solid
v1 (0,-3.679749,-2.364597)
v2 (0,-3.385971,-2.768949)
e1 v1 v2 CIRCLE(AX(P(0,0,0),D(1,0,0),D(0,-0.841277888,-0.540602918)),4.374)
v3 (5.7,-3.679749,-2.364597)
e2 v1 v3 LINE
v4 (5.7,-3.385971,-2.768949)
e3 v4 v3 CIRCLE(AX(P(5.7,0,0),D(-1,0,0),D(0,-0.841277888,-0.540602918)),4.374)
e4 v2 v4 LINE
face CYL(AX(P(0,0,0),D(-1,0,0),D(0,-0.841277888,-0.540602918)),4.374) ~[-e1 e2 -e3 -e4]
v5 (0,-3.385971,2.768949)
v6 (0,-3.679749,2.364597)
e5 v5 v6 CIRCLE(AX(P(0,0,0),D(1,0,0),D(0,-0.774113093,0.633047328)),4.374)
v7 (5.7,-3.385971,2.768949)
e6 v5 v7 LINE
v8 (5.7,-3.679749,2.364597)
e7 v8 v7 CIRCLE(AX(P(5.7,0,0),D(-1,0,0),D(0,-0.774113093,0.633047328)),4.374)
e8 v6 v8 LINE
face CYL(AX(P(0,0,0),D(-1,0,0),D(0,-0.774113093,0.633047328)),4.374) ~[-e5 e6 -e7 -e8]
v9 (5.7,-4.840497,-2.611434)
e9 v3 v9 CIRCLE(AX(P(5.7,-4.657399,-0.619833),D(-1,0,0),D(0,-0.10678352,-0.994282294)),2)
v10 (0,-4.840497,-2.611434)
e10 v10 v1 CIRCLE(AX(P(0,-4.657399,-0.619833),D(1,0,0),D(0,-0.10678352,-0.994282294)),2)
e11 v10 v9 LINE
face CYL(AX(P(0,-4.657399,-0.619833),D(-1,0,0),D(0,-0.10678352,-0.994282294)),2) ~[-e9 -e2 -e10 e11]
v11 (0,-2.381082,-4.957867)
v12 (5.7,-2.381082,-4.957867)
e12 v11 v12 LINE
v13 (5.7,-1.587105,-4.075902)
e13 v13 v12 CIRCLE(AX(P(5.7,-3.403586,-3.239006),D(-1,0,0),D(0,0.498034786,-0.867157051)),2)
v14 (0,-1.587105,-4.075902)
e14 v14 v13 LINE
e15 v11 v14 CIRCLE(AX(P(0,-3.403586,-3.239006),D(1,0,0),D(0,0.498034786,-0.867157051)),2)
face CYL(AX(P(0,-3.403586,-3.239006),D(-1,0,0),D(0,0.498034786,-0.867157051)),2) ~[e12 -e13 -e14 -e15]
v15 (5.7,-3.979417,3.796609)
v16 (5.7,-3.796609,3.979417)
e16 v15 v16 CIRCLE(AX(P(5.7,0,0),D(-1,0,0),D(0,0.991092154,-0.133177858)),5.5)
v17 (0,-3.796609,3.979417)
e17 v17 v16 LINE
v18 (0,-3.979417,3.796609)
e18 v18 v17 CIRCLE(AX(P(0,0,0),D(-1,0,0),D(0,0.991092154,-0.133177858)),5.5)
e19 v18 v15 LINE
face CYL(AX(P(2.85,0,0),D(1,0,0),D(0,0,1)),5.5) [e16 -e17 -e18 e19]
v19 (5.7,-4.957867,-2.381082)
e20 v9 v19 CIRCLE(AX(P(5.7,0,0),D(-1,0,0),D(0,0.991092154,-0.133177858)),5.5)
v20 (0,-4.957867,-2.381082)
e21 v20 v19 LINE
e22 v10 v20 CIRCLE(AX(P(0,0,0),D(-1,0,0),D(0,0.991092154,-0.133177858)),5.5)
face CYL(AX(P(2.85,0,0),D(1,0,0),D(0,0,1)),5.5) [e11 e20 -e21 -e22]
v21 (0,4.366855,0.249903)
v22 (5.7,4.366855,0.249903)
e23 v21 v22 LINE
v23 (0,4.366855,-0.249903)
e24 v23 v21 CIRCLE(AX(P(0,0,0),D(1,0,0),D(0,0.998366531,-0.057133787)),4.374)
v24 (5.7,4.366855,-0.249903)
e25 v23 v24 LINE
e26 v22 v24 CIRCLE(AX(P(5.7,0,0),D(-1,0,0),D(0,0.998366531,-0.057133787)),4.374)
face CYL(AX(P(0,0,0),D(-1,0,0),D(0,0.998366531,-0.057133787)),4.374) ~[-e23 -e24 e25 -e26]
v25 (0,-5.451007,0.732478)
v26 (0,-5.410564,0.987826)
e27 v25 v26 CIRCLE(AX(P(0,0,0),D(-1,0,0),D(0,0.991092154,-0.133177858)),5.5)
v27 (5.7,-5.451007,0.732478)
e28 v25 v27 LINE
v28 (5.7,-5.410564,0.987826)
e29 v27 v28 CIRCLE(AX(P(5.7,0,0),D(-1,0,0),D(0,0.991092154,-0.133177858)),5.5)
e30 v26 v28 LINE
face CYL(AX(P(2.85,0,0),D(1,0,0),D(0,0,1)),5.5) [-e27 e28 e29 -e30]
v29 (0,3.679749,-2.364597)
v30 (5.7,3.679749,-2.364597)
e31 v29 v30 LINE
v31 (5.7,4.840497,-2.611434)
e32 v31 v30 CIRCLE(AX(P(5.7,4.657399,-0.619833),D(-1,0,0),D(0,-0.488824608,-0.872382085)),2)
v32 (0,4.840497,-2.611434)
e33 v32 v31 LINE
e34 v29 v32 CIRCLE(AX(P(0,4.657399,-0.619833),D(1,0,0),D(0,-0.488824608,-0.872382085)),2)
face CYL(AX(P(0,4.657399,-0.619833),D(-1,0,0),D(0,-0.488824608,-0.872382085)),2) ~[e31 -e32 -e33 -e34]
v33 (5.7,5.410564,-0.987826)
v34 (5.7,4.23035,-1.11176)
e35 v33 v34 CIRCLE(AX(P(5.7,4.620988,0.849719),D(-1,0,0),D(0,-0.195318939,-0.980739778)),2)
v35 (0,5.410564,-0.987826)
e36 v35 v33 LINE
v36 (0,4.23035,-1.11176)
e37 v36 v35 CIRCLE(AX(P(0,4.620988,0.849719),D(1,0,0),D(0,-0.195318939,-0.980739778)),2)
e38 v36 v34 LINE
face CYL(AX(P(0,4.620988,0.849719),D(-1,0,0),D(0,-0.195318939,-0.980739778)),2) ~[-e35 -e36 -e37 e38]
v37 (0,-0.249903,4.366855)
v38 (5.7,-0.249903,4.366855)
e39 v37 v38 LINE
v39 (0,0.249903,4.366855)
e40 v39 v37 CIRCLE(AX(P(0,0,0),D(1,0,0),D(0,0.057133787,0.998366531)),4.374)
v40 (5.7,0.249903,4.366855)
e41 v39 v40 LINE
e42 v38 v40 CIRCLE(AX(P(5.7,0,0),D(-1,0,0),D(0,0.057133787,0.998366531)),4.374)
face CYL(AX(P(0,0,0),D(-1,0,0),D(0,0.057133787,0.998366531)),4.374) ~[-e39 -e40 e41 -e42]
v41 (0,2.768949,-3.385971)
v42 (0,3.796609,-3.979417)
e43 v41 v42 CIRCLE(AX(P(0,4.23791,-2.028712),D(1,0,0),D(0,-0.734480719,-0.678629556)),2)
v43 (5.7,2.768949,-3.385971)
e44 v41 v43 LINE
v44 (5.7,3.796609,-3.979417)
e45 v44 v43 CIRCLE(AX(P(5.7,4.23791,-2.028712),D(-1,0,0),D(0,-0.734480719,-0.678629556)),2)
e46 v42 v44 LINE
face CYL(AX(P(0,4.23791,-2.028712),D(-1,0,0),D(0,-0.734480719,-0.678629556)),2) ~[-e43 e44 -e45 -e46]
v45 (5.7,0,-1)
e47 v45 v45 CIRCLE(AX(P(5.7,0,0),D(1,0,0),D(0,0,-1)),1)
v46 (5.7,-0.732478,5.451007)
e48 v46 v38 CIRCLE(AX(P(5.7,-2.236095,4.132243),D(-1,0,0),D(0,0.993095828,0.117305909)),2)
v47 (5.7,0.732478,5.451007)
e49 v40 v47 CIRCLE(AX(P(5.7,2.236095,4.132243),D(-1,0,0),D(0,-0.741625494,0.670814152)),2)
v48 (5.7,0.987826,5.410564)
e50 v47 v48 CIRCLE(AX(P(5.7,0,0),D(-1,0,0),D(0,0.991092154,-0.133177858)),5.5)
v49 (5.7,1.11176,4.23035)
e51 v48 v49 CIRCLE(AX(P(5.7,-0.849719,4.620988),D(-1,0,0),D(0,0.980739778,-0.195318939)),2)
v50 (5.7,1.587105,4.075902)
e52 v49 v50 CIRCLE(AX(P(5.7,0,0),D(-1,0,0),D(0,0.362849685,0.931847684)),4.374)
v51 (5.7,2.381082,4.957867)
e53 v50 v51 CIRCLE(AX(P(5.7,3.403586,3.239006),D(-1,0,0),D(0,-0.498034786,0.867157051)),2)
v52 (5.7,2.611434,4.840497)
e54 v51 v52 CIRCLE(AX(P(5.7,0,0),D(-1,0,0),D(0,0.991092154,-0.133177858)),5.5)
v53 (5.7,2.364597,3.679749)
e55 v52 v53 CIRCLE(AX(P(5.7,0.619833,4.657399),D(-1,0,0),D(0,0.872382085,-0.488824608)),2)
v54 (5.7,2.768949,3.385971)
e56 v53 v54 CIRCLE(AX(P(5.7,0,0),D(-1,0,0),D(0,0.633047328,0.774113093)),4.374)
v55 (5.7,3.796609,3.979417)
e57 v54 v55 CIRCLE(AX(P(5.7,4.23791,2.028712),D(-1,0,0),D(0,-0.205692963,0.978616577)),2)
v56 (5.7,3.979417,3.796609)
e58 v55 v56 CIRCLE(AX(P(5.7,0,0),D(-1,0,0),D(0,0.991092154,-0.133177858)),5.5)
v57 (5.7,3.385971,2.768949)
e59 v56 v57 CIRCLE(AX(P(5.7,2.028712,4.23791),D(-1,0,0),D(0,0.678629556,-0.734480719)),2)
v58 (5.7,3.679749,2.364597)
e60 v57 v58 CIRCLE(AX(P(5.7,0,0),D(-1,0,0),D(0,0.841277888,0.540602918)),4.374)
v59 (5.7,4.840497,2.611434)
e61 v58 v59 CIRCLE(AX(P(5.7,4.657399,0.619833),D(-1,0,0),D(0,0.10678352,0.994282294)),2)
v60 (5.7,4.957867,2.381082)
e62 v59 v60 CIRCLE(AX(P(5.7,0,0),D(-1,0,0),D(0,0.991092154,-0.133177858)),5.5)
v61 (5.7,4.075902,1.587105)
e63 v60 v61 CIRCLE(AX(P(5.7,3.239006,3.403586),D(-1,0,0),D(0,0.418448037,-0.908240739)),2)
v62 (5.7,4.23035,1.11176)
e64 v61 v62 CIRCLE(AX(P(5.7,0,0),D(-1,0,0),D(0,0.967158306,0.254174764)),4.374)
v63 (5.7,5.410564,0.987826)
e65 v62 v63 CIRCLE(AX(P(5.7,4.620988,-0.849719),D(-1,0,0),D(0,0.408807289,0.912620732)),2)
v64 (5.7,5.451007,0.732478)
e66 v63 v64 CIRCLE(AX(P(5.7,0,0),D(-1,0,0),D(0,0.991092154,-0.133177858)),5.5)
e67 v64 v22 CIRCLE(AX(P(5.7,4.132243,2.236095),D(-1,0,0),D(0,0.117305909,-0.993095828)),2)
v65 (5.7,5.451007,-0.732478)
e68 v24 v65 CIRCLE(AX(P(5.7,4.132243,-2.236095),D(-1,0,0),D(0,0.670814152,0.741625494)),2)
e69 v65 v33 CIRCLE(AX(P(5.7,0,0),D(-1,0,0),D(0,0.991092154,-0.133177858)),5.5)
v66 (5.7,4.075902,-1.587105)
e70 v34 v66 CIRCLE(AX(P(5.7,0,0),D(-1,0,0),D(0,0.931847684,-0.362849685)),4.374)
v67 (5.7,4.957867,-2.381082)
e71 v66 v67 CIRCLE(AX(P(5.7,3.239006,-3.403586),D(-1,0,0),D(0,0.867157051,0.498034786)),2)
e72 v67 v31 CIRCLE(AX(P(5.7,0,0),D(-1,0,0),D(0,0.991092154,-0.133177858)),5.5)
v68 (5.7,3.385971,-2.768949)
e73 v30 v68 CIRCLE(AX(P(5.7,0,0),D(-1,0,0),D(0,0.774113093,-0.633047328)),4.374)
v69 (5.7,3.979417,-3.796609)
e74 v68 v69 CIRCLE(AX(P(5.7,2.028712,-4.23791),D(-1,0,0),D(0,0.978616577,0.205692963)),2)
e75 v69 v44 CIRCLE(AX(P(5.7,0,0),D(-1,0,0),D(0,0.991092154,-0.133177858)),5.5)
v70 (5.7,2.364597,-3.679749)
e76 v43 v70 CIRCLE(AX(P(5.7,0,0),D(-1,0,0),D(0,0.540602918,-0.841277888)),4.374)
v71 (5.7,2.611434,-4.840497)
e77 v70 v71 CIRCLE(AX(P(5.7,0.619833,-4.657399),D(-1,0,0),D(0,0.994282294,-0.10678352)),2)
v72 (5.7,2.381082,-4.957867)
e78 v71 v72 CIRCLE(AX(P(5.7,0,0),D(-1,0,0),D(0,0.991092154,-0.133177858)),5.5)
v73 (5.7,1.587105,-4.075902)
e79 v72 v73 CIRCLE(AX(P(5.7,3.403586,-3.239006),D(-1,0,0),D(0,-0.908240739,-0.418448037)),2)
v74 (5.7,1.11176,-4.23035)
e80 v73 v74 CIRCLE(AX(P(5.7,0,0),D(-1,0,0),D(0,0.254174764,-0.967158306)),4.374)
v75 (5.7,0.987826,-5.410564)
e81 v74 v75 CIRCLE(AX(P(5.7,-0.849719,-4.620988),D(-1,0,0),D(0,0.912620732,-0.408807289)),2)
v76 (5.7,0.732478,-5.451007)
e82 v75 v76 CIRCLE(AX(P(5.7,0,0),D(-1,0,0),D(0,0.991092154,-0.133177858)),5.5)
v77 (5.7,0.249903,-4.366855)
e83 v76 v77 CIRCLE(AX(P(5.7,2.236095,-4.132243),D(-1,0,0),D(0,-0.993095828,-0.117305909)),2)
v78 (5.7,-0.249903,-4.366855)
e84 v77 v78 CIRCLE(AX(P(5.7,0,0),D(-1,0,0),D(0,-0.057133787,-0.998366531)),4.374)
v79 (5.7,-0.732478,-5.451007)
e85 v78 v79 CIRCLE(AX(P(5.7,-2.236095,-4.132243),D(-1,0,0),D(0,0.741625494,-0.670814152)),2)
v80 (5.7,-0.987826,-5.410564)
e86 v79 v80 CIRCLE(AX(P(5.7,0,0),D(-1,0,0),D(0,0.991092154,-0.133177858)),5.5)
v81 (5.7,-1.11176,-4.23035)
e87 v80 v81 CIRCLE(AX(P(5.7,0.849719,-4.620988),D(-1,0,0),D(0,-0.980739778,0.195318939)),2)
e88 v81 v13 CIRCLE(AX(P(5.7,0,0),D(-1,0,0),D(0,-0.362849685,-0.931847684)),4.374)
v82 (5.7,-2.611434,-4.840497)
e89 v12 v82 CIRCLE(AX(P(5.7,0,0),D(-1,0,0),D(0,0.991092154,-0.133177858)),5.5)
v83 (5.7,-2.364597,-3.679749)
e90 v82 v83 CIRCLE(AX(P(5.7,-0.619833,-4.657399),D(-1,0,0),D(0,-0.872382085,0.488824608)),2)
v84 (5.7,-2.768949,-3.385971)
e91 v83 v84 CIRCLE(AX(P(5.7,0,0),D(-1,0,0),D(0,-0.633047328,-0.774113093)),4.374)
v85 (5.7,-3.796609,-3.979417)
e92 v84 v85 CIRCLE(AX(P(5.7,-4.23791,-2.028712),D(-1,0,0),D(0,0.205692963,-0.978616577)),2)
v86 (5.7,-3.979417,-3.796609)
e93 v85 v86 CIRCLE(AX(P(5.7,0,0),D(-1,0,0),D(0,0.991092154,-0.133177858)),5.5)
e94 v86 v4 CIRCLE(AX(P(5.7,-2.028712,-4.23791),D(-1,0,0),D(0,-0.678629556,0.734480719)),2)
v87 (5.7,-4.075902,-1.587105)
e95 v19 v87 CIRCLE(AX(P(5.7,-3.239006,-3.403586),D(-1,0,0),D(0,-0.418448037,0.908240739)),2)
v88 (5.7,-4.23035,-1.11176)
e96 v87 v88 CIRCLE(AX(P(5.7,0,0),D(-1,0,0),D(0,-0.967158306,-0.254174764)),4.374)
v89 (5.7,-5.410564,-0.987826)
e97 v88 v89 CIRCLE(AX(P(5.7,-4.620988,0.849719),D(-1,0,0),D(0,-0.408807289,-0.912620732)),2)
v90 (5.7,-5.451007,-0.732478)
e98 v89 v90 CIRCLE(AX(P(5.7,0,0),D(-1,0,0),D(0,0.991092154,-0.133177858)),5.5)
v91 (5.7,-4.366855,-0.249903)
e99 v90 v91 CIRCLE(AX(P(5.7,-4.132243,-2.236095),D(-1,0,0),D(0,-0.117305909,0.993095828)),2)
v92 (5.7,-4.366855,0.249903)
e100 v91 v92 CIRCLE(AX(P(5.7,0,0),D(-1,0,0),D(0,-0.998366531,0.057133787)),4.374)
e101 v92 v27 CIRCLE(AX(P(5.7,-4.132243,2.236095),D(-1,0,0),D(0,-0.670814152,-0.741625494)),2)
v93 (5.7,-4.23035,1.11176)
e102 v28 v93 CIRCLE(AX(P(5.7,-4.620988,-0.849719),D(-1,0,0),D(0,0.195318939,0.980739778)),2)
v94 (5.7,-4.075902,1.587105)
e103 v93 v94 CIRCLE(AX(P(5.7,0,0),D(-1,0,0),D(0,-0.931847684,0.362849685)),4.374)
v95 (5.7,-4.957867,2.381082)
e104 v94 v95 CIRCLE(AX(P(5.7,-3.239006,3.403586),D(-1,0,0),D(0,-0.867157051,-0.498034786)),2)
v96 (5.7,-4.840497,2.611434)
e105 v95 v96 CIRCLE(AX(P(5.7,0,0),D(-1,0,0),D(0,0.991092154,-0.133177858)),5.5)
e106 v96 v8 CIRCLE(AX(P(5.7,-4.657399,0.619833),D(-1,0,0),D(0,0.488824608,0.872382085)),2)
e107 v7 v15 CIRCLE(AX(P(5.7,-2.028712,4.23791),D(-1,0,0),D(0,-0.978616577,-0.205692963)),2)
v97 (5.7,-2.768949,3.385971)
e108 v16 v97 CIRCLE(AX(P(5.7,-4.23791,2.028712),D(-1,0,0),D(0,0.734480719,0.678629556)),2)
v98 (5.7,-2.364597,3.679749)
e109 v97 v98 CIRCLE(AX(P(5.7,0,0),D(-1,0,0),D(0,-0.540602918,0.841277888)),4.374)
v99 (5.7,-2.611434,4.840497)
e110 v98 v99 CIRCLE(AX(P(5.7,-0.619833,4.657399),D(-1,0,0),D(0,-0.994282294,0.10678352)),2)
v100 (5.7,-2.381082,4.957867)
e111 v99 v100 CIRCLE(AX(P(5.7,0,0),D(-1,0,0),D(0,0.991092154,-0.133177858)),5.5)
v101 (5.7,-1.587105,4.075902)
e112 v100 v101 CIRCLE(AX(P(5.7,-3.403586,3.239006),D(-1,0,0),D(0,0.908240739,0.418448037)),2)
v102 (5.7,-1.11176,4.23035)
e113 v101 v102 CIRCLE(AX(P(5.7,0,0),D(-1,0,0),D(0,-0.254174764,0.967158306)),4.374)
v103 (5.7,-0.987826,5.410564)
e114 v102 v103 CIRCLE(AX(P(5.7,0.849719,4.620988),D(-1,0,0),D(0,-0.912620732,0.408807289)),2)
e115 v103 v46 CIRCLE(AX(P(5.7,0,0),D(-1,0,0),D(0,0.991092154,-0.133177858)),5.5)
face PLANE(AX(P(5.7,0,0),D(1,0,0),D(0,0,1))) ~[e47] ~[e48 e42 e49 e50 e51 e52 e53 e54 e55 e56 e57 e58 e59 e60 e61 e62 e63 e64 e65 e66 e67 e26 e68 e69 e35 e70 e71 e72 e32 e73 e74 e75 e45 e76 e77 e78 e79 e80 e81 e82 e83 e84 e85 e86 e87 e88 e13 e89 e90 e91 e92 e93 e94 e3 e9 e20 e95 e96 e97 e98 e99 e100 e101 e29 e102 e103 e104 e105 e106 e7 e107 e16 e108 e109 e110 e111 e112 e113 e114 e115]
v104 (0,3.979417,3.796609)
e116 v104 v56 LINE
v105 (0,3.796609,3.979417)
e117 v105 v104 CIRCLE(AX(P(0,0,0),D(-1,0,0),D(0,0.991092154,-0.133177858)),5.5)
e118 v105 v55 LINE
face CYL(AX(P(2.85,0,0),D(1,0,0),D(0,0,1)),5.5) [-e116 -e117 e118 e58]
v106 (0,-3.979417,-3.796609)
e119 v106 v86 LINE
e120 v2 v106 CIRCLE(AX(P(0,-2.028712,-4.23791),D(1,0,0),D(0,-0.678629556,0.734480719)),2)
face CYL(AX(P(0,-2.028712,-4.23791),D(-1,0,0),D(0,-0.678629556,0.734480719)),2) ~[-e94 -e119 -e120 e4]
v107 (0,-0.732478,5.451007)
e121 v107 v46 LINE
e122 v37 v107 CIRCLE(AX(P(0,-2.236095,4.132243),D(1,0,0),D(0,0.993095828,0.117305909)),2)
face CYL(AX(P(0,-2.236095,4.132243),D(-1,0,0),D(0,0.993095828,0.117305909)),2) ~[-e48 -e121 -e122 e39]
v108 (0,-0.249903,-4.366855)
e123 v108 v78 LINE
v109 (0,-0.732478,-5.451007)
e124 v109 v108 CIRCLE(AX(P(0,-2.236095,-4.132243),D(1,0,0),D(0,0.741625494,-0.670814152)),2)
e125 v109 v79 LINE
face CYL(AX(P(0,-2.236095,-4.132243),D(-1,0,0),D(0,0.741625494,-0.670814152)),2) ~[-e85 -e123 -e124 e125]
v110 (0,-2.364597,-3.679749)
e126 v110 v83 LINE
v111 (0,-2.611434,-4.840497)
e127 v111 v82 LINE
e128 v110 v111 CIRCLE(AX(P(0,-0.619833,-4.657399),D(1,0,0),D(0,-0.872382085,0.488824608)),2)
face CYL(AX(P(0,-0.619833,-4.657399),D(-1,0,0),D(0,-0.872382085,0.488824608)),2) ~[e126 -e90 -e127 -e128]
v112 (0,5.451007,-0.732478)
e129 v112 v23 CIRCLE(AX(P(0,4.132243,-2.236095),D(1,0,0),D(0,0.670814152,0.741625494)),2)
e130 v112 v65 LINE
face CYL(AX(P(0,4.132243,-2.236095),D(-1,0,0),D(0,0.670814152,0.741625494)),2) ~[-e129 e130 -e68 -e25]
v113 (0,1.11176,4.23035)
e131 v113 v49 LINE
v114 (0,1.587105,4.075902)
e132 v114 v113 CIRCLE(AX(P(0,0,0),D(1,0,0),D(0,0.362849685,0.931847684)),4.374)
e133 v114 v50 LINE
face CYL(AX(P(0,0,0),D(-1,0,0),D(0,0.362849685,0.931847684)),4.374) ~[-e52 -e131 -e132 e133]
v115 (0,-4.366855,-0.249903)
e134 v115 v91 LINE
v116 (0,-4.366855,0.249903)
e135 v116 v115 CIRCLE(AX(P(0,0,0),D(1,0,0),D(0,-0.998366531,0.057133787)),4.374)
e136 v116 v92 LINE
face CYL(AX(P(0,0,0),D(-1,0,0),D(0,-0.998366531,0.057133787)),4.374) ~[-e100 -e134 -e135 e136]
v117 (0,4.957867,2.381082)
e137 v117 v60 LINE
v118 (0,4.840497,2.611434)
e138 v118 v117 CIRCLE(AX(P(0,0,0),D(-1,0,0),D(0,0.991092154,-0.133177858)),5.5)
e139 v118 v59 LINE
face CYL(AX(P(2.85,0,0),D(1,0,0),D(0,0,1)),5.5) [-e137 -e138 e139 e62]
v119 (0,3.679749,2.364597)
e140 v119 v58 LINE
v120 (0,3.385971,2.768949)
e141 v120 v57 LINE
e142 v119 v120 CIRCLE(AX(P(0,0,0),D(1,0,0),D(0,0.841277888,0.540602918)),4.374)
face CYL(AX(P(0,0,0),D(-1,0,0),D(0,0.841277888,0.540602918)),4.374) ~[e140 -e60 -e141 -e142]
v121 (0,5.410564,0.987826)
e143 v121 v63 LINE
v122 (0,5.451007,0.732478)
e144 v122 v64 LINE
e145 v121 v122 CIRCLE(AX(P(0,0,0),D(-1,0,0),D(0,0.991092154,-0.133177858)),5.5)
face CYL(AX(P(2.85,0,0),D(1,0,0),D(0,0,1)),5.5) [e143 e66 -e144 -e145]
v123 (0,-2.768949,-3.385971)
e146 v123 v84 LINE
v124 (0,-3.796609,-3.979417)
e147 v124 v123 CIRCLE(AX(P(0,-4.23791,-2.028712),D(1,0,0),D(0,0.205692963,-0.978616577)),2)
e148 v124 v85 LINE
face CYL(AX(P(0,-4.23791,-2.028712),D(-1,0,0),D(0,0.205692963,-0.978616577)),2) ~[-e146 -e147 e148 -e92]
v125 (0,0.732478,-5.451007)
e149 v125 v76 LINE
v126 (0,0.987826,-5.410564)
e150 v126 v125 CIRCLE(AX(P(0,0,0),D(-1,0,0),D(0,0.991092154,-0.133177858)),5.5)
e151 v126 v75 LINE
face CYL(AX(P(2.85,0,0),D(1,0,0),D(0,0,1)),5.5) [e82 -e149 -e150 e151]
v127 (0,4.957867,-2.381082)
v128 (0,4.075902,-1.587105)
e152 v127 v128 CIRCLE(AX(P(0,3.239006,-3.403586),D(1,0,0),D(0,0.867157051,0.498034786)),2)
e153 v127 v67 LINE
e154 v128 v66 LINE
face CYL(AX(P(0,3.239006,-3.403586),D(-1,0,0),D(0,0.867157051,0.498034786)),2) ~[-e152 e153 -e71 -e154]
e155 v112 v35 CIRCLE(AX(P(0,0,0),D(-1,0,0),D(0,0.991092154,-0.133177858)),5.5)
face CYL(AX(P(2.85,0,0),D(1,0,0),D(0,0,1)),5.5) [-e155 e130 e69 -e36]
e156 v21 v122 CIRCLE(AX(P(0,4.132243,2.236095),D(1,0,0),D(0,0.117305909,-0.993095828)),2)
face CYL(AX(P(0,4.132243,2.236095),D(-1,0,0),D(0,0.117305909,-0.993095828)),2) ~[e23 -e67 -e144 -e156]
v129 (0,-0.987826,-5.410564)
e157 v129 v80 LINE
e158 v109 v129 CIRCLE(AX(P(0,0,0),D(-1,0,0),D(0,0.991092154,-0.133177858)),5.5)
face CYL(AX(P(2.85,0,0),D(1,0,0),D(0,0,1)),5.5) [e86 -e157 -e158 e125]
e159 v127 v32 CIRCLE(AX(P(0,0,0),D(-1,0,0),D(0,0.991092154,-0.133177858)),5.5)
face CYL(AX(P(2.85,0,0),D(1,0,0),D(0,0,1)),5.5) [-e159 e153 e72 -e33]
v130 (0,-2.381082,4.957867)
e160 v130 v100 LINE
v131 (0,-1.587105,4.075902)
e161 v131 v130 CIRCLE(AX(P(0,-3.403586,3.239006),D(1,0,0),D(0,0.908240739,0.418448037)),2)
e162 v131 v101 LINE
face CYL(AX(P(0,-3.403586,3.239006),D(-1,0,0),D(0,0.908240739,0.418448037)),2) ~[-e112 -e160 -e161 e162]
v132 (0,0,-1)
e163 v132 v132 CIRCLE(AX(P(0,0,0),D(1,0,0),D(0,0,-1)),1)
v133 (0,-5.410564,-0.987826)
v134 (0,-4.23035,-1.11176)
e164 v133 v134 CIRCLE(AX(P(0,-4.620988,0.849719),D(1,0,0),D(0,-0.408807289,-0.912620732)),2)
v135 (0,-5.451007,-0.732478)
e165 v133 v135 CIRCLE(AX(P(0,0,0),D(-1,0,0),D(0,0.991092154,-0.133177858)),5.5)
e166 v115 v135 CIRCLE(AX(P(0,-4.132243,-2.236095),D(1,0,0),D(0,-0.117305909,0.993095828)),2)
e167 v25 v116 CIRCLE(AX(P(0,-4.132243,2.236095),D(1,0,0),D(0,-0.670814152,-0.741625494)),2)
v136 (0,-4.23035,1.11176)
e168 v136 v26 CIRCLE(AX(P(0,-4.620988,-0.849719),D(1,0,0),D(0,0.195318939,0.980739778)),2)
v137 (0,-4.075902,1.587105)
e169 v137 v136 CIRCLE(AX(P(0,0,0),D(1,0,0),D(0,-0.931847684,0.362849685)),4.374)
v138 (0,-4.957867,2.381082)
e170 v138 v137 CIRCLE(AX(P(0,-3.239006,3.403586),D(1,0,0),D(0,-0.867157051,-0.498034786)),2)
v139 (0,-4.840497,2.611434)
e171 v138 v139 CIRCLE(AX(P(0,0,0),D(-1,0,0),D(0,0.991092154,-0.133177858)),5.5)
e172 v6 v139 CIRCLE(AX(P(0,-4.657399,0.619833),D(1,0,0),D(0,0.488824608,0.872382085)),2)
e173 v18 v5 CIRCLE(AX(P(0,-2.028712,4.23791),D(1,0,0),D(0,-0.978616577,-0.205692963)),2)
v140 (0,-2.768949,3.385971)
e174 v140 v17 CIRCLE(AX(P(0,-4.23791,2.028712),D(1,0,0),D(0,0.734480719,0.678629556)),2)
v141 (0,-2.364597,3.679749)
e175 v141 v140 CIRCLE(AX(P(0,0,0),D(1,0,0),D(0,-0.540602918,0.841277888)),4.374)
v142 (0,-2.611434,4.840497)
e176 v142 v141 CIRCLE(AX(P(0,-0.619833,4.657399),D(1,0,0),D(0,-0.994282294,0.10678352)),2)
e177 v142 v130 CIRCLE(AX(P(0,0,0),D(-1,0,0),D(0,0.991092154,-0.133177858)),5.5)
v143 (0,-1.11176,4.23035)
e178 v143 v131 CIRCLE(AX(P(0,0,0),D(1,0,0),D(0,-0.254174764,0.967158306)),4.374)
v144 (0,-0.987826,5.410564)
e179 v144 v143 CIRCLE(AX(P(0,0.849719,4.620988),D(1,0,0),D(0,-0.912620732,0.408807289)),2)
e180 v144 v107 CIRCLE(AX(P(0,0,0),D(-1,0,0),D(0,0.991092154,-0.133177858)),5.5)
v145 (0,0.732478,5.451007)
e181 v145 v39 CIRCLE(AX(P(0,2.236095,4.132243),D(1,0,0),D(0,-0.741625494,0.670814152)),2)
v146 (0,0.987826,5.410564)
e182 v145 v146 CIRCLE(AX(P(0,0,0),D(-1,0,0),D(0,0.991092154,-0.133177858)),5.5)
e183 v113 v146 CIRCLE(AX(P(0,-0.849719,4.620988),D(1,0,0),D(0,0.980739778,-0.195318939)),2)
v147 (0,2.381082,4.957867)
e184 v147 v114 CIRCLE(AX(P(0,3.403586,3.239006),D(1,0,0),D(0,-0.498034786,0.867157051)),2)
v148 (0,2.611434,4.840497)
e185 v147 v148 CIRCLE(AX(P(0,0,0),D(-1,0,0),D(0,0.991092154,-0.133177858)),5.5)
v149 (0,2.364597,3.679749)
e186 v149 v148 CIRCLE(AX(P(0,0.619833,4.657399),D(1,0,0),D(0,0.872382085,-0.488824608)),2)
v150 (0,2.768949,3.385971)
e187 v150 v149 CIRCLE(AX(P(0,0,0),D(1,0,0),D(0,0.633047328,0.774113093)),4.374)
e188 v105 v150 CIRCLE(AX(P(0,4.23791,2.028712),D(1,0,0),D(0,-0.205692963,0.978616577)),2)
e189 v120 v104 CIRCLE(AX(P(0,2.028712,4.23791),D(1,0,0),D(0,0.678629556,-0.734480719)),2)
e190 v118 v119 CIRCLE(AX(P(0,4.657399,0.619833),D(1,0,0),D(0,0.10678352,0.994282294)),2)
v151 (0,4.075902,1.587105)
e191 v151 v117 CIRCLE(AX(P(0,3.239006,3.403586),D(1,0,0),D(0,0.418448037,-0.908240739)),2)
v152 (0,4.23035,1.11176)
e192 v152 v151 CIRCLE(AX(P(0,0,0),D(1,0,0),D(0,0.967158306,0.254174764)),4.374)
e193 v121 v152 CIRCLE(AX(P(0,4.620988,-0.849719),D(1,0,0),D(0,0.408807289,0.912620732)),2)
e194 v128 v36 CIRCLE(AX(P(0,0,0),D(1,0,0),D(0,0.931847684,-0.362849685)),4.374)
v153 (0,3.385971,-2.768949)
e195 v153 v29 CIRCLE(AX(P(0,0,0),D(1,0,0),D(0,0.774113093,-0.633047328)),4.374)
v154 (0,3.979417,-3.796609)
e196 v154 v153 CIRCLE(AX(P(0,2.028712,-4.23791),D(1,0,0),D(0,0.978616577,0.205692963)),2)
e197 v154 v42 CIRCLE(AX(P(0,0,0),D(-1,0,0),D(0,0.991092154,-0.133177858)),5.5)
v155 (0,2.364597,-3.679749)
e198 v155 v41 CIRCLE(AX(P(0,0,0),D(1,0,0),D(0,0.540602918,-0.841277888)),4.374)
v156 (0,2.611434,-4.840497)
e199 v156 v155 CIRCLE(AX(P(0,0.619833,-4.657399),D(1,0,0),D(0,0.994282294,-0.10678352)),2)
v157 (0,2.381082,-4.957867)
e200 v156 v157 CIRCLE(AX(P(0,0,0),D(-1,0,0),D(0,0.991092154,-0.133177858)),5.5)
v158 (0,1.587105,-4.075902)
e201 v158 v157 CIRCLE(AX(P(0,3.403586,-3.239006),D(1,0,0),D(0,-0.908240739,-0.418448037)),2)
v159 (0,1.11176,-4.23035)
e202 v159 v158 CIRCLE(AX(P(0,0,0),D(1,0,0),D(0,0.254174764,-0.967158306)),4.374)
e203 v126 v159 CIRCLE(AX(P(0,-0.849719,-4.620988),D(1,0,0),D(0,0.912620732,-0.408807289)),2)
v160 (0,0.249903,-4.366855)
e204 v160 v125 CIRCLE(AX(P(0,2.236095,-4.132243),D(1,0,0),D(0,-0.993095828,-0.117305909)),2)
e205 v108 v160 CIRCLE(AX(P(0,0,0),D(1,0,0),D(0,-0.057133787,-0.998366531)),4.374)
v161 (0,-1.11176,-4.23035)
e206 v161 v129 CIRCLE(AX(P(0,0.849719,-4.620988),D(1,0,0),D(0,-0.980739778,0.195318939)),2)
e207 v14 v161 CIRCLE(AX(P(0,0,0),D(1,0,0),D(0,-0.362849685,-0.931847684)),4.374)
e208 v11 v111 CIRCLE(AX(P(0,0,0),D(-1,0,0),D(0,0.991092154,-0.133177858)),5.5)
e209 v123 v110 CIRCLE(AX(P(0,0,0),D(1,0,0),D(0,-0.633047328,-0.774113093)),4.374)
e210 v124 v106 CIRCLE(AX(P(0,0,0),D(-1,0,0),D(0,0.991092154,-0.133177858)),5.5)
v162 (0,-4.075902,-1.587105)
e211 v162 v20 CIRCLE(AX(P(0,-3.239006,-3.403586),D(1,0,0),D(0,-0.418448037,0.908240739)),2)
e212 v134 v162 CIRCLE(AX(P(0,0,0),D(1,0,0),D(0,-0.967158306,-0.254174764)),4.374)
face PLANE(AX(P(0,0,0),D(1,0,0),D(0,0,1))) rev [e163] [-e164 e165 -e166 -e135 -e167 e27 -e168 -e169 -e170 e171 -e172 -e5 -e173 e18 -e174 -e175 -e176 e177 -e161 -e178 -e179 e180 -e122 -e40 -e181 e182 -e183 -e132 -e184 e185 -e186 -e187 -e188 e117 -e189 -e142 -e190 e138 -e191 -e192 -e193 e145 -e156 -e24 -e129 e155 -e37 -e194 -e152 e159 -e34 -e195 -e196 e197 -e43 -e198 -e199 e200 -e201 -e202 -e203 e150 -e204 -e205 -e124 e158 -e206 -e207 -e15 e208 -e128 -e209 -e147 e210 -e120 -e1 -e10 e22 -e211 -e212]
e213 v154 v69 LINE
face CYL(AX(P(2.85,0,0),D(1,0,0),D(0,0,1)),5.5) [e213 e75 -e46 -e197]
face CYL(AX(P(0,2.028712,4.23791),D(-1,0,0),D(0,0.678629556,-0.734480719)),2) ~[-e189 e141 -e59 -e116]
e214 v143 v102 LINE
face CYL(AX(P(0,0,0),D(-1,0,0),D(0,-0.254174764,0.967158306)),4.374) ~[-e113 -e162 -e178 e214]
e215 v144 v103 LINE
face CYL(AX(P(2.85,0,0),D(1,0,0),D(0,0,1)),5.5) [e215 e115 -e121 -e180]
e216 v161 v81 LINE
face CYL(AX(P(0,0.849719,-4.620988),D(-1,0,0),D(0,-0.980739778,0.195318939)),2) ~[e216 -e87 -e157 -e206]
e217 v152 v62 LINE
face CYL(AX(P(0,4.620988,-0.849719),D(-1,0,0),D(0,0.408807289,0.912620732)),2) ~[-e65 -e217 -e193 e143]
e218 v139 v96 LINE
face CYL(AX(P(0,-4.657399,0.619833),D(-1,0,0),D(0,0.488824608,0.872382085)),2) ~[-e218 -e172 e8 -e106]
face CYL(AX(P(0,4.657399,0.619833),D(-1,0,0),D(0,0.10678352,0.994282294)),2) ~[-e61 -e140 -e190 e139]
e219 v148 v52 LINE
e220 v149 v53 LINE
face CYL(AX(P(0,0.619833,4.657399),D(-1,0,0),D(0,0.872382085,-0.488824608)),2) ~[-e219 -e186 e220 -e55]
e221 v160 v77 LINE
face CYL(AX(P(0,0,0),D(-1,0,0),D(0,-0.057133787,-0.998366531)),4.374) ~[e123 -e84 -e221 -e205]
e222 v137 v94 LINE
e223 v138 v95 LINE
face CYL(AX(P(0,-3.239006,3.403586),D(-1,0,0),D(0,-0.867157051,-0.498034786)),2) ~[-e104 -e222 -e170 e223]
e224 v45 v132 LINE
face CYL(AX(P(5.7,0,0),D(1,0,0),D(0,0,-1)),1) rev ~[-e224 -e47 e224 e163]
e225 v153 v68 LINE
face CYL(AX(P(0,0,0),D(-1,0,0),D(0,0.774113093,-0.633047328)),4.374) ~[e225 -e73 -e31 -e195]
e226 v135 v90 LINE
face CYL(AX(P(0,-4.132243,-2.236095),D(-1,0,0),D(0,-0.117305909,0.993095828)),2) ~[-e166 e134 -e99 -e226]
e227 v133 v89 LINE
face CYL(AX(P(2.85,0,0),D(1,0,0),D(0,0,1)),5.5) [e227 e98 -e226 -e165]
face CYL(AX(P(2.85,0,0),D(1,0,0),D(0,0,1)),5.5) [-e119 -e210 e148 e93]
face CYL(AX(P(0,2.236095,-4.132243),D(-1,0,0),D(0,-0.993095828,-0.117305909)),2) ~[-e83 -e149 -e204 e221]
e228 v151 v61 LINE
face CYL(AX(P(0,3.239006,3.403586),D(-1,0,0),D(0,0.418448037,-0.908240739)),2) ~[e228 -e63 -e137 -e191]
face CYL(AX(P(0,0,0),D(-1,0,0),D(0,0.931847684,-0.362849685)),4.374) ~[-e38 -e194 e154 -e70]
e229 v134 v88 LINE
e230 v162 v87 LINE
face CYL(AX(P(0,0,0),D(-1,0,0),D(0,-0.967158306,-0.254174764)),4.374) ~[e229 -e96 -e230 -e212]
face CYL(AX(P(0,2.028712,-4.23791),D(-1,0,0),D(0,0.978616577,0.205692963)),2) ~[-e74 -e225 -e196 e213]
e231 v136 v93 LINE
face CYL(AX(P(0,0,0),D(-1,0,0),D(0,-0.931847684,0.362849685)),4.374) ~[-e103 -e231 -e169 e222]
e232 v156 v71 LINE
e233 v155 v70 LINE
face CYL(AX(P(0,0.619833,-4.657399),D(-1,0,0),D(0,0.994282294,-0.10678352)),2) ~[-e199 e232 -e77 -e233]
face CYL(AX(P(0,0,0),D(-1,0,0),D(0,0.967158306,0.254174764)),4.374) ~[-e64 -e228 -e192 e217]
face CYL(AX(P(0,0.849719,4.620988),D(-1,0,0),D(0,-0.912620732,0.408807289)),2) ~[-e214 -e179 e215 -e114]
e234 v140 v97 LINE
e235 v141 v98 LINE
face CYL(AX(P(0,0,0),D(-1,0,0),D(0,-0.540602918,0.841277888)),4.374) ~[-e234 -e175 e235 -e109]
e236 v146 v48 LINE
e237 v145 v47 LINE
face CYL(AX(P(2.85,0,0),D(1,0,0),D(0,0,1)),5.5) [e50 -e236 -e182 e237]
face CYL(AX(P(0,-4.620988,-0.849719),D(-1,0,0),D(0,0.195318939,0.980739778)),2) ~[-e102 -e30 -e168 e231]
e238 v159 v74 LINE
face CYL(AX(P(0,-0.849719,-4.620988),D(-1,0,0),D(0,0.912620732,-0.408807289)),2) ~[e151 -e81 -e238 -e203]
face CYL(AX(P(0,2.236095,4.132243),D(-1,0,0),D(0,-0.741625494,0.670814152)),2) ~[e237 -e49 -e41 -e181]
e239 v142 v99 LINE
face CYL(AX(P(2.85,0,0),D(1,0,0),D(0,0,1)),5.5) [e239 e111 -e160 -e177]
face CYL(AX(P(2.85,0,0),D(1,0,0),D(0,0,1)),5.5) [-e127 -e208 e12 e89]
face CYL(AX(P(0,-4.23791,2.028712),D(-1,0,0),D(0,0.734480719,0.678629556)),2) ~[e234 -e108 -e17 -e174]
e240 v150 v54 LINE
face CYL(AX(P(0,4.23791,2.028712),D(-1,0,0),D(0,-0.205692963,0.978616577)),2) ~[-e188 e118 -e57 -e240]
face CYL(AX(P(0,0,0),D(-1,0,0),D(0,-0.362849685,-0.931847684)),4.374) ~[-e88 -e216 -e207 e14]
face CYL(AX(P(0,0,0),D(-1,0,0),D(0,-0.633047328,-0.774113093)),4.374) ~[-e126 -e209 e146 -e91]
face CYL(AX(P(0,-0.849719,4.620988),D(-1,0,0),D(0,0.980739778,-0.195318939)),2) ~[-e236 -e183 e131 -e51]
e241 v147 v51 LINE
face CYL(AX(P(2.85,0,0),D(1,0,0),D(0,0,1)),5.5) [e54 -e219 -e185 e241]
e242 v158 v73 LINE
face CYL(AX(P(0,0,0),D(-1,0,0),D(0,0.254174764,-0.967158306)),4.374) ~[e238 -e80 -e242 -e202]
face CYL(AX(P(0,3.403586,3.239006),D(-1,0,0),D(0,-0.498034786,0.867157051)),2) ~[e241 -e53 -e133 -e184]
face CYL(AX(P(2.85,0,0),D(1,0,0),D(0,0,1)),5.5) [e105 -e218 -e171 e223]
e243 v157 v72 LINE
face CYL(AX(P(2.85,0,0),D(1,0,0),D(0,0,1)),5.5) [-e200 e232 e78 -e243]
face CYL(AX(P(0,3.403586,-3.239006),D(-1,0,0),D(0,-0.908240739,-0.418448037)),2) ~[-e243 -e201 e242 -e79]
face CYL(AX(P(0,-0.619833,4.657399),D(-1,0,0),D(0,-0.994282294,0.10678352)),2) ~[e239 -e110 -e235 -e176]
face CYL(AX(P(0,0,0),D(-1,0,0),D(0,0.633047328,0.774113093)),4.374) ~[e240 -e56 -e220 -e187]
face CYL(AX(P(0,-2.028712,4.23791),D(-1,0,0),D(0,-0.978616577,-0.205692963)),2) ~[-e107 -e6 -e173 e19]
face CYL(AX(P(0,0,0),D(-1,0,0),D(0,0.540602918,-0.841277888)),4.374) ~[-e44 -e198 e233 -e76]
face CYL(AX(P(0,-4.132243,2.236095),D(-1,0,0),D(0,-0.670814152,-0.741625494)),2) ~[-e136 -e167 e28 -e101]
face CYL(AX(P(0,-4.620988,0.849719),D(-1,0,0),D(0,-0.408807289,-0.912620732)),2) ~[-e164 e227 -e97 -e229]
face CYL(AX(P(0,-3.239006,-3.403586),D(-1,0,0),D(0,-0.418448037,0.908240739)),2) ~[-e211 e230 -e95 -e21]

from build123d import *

# Parameters (mm, degrees)
BASPROSKE_W         = 5.7
BASPROSKE_H         = 5.5
TOOTHCUT_DEPTH      = 10.643132271
TEETHCUTS_COUNT     = 20
TEETHCUTS_ANGLE     = 342
BORSKE_R            = 0.4
BORE_DEPTH          = 50.0000508
SKETCH_1_R          = 1
CUT_EXTRUDE_1_DEPTH = 10


with BuildPart() as part:
    # BasProSke → Base-Revolve (revolve)
    with BuildSketch(Plane(origin=(0, 0, 0), x_dir=(1, 0, 0), z_dir=(0, 1, 0)), mode=Mode.PRIVATE) as base_revolve_sk:
        with Locations((2.85, 2.75)):
            Rectangle(BASPROSKE_W, BASPROSKE_H)
    revolve(base_revolve_sk.sketch.rotate(Axis((-10, 0, 0), (1, 0, 0)), 180), axis=Axis((-10, 0, 0), (1, 0, 0)))

    # TooCutSke → ToothCut (cut, through all)
    with BuildSketch(Plane(origin=(0, 0, 0), x_dir=(0, 0, -1), z_dir=(1, 0, 0))):
        with BuildLine():
            ThreePointArc((0.249903181, 4.366855207), (0, 4.374), (-0.249903181, 4.366855207))
            ThreePointArc((-0.249903181, 4.366855207), (-0.415207844, 4.95951031), (-0.752843848, 5.473871692))
            ThreePointArc((-0.752843848, 5.473871692), (0, 5.5254), (0.752843848, 5.473871692))
            ThreePointArc((0.752843848, 5.473871692), (0.415207844, 4.95951031), (0.249903181, 4.366855207))
        make_face()
    toothcut = extrude(amount=TOOTHCUT_DEPTH, mode=Mode.SUBTRACT)

    # TeethCuts: ToothCut ×20 about axis
    teethcuts_axis = Axis((-10, 0, 0), (1, 0, 0))
    for i in range(1, TEETHCUTS_COUNT):
        add(toothcut.rotate(teethcuts_axis, i * TEETHCUTS_ANGLE / (TEETHCUTS_COUNT - 1)), mode=Mode.SUBTRACT)

    # BorSke → Bore (cut, symmetric)
    with BuildSketch(Plane(origin=(0, 0, 0), x_dir=(0, 0, -1), z_dir=(1, 0, 0))):
        with Locations(Location((0, 0, 0), (0, 0, 180))):
            Circle(BORSKE_R)
    extrude(amount=BORE_DEPTH, both=True, mode=Mode.SUBTRACT)

    # 草图1 → 切除-拉伸1 (cut)
    with BuildSketch(Plane(origin=(5.7, 0, 0), x_dir=(0, 0, -1), z_dir=(1, 0, 0))):
        Circle(SKETCH_1_R)
    extrude(amount=-CUT_EXTRUDE_1_DEPTH, mode=Mode.SUBTRACT)


solid = part.part
